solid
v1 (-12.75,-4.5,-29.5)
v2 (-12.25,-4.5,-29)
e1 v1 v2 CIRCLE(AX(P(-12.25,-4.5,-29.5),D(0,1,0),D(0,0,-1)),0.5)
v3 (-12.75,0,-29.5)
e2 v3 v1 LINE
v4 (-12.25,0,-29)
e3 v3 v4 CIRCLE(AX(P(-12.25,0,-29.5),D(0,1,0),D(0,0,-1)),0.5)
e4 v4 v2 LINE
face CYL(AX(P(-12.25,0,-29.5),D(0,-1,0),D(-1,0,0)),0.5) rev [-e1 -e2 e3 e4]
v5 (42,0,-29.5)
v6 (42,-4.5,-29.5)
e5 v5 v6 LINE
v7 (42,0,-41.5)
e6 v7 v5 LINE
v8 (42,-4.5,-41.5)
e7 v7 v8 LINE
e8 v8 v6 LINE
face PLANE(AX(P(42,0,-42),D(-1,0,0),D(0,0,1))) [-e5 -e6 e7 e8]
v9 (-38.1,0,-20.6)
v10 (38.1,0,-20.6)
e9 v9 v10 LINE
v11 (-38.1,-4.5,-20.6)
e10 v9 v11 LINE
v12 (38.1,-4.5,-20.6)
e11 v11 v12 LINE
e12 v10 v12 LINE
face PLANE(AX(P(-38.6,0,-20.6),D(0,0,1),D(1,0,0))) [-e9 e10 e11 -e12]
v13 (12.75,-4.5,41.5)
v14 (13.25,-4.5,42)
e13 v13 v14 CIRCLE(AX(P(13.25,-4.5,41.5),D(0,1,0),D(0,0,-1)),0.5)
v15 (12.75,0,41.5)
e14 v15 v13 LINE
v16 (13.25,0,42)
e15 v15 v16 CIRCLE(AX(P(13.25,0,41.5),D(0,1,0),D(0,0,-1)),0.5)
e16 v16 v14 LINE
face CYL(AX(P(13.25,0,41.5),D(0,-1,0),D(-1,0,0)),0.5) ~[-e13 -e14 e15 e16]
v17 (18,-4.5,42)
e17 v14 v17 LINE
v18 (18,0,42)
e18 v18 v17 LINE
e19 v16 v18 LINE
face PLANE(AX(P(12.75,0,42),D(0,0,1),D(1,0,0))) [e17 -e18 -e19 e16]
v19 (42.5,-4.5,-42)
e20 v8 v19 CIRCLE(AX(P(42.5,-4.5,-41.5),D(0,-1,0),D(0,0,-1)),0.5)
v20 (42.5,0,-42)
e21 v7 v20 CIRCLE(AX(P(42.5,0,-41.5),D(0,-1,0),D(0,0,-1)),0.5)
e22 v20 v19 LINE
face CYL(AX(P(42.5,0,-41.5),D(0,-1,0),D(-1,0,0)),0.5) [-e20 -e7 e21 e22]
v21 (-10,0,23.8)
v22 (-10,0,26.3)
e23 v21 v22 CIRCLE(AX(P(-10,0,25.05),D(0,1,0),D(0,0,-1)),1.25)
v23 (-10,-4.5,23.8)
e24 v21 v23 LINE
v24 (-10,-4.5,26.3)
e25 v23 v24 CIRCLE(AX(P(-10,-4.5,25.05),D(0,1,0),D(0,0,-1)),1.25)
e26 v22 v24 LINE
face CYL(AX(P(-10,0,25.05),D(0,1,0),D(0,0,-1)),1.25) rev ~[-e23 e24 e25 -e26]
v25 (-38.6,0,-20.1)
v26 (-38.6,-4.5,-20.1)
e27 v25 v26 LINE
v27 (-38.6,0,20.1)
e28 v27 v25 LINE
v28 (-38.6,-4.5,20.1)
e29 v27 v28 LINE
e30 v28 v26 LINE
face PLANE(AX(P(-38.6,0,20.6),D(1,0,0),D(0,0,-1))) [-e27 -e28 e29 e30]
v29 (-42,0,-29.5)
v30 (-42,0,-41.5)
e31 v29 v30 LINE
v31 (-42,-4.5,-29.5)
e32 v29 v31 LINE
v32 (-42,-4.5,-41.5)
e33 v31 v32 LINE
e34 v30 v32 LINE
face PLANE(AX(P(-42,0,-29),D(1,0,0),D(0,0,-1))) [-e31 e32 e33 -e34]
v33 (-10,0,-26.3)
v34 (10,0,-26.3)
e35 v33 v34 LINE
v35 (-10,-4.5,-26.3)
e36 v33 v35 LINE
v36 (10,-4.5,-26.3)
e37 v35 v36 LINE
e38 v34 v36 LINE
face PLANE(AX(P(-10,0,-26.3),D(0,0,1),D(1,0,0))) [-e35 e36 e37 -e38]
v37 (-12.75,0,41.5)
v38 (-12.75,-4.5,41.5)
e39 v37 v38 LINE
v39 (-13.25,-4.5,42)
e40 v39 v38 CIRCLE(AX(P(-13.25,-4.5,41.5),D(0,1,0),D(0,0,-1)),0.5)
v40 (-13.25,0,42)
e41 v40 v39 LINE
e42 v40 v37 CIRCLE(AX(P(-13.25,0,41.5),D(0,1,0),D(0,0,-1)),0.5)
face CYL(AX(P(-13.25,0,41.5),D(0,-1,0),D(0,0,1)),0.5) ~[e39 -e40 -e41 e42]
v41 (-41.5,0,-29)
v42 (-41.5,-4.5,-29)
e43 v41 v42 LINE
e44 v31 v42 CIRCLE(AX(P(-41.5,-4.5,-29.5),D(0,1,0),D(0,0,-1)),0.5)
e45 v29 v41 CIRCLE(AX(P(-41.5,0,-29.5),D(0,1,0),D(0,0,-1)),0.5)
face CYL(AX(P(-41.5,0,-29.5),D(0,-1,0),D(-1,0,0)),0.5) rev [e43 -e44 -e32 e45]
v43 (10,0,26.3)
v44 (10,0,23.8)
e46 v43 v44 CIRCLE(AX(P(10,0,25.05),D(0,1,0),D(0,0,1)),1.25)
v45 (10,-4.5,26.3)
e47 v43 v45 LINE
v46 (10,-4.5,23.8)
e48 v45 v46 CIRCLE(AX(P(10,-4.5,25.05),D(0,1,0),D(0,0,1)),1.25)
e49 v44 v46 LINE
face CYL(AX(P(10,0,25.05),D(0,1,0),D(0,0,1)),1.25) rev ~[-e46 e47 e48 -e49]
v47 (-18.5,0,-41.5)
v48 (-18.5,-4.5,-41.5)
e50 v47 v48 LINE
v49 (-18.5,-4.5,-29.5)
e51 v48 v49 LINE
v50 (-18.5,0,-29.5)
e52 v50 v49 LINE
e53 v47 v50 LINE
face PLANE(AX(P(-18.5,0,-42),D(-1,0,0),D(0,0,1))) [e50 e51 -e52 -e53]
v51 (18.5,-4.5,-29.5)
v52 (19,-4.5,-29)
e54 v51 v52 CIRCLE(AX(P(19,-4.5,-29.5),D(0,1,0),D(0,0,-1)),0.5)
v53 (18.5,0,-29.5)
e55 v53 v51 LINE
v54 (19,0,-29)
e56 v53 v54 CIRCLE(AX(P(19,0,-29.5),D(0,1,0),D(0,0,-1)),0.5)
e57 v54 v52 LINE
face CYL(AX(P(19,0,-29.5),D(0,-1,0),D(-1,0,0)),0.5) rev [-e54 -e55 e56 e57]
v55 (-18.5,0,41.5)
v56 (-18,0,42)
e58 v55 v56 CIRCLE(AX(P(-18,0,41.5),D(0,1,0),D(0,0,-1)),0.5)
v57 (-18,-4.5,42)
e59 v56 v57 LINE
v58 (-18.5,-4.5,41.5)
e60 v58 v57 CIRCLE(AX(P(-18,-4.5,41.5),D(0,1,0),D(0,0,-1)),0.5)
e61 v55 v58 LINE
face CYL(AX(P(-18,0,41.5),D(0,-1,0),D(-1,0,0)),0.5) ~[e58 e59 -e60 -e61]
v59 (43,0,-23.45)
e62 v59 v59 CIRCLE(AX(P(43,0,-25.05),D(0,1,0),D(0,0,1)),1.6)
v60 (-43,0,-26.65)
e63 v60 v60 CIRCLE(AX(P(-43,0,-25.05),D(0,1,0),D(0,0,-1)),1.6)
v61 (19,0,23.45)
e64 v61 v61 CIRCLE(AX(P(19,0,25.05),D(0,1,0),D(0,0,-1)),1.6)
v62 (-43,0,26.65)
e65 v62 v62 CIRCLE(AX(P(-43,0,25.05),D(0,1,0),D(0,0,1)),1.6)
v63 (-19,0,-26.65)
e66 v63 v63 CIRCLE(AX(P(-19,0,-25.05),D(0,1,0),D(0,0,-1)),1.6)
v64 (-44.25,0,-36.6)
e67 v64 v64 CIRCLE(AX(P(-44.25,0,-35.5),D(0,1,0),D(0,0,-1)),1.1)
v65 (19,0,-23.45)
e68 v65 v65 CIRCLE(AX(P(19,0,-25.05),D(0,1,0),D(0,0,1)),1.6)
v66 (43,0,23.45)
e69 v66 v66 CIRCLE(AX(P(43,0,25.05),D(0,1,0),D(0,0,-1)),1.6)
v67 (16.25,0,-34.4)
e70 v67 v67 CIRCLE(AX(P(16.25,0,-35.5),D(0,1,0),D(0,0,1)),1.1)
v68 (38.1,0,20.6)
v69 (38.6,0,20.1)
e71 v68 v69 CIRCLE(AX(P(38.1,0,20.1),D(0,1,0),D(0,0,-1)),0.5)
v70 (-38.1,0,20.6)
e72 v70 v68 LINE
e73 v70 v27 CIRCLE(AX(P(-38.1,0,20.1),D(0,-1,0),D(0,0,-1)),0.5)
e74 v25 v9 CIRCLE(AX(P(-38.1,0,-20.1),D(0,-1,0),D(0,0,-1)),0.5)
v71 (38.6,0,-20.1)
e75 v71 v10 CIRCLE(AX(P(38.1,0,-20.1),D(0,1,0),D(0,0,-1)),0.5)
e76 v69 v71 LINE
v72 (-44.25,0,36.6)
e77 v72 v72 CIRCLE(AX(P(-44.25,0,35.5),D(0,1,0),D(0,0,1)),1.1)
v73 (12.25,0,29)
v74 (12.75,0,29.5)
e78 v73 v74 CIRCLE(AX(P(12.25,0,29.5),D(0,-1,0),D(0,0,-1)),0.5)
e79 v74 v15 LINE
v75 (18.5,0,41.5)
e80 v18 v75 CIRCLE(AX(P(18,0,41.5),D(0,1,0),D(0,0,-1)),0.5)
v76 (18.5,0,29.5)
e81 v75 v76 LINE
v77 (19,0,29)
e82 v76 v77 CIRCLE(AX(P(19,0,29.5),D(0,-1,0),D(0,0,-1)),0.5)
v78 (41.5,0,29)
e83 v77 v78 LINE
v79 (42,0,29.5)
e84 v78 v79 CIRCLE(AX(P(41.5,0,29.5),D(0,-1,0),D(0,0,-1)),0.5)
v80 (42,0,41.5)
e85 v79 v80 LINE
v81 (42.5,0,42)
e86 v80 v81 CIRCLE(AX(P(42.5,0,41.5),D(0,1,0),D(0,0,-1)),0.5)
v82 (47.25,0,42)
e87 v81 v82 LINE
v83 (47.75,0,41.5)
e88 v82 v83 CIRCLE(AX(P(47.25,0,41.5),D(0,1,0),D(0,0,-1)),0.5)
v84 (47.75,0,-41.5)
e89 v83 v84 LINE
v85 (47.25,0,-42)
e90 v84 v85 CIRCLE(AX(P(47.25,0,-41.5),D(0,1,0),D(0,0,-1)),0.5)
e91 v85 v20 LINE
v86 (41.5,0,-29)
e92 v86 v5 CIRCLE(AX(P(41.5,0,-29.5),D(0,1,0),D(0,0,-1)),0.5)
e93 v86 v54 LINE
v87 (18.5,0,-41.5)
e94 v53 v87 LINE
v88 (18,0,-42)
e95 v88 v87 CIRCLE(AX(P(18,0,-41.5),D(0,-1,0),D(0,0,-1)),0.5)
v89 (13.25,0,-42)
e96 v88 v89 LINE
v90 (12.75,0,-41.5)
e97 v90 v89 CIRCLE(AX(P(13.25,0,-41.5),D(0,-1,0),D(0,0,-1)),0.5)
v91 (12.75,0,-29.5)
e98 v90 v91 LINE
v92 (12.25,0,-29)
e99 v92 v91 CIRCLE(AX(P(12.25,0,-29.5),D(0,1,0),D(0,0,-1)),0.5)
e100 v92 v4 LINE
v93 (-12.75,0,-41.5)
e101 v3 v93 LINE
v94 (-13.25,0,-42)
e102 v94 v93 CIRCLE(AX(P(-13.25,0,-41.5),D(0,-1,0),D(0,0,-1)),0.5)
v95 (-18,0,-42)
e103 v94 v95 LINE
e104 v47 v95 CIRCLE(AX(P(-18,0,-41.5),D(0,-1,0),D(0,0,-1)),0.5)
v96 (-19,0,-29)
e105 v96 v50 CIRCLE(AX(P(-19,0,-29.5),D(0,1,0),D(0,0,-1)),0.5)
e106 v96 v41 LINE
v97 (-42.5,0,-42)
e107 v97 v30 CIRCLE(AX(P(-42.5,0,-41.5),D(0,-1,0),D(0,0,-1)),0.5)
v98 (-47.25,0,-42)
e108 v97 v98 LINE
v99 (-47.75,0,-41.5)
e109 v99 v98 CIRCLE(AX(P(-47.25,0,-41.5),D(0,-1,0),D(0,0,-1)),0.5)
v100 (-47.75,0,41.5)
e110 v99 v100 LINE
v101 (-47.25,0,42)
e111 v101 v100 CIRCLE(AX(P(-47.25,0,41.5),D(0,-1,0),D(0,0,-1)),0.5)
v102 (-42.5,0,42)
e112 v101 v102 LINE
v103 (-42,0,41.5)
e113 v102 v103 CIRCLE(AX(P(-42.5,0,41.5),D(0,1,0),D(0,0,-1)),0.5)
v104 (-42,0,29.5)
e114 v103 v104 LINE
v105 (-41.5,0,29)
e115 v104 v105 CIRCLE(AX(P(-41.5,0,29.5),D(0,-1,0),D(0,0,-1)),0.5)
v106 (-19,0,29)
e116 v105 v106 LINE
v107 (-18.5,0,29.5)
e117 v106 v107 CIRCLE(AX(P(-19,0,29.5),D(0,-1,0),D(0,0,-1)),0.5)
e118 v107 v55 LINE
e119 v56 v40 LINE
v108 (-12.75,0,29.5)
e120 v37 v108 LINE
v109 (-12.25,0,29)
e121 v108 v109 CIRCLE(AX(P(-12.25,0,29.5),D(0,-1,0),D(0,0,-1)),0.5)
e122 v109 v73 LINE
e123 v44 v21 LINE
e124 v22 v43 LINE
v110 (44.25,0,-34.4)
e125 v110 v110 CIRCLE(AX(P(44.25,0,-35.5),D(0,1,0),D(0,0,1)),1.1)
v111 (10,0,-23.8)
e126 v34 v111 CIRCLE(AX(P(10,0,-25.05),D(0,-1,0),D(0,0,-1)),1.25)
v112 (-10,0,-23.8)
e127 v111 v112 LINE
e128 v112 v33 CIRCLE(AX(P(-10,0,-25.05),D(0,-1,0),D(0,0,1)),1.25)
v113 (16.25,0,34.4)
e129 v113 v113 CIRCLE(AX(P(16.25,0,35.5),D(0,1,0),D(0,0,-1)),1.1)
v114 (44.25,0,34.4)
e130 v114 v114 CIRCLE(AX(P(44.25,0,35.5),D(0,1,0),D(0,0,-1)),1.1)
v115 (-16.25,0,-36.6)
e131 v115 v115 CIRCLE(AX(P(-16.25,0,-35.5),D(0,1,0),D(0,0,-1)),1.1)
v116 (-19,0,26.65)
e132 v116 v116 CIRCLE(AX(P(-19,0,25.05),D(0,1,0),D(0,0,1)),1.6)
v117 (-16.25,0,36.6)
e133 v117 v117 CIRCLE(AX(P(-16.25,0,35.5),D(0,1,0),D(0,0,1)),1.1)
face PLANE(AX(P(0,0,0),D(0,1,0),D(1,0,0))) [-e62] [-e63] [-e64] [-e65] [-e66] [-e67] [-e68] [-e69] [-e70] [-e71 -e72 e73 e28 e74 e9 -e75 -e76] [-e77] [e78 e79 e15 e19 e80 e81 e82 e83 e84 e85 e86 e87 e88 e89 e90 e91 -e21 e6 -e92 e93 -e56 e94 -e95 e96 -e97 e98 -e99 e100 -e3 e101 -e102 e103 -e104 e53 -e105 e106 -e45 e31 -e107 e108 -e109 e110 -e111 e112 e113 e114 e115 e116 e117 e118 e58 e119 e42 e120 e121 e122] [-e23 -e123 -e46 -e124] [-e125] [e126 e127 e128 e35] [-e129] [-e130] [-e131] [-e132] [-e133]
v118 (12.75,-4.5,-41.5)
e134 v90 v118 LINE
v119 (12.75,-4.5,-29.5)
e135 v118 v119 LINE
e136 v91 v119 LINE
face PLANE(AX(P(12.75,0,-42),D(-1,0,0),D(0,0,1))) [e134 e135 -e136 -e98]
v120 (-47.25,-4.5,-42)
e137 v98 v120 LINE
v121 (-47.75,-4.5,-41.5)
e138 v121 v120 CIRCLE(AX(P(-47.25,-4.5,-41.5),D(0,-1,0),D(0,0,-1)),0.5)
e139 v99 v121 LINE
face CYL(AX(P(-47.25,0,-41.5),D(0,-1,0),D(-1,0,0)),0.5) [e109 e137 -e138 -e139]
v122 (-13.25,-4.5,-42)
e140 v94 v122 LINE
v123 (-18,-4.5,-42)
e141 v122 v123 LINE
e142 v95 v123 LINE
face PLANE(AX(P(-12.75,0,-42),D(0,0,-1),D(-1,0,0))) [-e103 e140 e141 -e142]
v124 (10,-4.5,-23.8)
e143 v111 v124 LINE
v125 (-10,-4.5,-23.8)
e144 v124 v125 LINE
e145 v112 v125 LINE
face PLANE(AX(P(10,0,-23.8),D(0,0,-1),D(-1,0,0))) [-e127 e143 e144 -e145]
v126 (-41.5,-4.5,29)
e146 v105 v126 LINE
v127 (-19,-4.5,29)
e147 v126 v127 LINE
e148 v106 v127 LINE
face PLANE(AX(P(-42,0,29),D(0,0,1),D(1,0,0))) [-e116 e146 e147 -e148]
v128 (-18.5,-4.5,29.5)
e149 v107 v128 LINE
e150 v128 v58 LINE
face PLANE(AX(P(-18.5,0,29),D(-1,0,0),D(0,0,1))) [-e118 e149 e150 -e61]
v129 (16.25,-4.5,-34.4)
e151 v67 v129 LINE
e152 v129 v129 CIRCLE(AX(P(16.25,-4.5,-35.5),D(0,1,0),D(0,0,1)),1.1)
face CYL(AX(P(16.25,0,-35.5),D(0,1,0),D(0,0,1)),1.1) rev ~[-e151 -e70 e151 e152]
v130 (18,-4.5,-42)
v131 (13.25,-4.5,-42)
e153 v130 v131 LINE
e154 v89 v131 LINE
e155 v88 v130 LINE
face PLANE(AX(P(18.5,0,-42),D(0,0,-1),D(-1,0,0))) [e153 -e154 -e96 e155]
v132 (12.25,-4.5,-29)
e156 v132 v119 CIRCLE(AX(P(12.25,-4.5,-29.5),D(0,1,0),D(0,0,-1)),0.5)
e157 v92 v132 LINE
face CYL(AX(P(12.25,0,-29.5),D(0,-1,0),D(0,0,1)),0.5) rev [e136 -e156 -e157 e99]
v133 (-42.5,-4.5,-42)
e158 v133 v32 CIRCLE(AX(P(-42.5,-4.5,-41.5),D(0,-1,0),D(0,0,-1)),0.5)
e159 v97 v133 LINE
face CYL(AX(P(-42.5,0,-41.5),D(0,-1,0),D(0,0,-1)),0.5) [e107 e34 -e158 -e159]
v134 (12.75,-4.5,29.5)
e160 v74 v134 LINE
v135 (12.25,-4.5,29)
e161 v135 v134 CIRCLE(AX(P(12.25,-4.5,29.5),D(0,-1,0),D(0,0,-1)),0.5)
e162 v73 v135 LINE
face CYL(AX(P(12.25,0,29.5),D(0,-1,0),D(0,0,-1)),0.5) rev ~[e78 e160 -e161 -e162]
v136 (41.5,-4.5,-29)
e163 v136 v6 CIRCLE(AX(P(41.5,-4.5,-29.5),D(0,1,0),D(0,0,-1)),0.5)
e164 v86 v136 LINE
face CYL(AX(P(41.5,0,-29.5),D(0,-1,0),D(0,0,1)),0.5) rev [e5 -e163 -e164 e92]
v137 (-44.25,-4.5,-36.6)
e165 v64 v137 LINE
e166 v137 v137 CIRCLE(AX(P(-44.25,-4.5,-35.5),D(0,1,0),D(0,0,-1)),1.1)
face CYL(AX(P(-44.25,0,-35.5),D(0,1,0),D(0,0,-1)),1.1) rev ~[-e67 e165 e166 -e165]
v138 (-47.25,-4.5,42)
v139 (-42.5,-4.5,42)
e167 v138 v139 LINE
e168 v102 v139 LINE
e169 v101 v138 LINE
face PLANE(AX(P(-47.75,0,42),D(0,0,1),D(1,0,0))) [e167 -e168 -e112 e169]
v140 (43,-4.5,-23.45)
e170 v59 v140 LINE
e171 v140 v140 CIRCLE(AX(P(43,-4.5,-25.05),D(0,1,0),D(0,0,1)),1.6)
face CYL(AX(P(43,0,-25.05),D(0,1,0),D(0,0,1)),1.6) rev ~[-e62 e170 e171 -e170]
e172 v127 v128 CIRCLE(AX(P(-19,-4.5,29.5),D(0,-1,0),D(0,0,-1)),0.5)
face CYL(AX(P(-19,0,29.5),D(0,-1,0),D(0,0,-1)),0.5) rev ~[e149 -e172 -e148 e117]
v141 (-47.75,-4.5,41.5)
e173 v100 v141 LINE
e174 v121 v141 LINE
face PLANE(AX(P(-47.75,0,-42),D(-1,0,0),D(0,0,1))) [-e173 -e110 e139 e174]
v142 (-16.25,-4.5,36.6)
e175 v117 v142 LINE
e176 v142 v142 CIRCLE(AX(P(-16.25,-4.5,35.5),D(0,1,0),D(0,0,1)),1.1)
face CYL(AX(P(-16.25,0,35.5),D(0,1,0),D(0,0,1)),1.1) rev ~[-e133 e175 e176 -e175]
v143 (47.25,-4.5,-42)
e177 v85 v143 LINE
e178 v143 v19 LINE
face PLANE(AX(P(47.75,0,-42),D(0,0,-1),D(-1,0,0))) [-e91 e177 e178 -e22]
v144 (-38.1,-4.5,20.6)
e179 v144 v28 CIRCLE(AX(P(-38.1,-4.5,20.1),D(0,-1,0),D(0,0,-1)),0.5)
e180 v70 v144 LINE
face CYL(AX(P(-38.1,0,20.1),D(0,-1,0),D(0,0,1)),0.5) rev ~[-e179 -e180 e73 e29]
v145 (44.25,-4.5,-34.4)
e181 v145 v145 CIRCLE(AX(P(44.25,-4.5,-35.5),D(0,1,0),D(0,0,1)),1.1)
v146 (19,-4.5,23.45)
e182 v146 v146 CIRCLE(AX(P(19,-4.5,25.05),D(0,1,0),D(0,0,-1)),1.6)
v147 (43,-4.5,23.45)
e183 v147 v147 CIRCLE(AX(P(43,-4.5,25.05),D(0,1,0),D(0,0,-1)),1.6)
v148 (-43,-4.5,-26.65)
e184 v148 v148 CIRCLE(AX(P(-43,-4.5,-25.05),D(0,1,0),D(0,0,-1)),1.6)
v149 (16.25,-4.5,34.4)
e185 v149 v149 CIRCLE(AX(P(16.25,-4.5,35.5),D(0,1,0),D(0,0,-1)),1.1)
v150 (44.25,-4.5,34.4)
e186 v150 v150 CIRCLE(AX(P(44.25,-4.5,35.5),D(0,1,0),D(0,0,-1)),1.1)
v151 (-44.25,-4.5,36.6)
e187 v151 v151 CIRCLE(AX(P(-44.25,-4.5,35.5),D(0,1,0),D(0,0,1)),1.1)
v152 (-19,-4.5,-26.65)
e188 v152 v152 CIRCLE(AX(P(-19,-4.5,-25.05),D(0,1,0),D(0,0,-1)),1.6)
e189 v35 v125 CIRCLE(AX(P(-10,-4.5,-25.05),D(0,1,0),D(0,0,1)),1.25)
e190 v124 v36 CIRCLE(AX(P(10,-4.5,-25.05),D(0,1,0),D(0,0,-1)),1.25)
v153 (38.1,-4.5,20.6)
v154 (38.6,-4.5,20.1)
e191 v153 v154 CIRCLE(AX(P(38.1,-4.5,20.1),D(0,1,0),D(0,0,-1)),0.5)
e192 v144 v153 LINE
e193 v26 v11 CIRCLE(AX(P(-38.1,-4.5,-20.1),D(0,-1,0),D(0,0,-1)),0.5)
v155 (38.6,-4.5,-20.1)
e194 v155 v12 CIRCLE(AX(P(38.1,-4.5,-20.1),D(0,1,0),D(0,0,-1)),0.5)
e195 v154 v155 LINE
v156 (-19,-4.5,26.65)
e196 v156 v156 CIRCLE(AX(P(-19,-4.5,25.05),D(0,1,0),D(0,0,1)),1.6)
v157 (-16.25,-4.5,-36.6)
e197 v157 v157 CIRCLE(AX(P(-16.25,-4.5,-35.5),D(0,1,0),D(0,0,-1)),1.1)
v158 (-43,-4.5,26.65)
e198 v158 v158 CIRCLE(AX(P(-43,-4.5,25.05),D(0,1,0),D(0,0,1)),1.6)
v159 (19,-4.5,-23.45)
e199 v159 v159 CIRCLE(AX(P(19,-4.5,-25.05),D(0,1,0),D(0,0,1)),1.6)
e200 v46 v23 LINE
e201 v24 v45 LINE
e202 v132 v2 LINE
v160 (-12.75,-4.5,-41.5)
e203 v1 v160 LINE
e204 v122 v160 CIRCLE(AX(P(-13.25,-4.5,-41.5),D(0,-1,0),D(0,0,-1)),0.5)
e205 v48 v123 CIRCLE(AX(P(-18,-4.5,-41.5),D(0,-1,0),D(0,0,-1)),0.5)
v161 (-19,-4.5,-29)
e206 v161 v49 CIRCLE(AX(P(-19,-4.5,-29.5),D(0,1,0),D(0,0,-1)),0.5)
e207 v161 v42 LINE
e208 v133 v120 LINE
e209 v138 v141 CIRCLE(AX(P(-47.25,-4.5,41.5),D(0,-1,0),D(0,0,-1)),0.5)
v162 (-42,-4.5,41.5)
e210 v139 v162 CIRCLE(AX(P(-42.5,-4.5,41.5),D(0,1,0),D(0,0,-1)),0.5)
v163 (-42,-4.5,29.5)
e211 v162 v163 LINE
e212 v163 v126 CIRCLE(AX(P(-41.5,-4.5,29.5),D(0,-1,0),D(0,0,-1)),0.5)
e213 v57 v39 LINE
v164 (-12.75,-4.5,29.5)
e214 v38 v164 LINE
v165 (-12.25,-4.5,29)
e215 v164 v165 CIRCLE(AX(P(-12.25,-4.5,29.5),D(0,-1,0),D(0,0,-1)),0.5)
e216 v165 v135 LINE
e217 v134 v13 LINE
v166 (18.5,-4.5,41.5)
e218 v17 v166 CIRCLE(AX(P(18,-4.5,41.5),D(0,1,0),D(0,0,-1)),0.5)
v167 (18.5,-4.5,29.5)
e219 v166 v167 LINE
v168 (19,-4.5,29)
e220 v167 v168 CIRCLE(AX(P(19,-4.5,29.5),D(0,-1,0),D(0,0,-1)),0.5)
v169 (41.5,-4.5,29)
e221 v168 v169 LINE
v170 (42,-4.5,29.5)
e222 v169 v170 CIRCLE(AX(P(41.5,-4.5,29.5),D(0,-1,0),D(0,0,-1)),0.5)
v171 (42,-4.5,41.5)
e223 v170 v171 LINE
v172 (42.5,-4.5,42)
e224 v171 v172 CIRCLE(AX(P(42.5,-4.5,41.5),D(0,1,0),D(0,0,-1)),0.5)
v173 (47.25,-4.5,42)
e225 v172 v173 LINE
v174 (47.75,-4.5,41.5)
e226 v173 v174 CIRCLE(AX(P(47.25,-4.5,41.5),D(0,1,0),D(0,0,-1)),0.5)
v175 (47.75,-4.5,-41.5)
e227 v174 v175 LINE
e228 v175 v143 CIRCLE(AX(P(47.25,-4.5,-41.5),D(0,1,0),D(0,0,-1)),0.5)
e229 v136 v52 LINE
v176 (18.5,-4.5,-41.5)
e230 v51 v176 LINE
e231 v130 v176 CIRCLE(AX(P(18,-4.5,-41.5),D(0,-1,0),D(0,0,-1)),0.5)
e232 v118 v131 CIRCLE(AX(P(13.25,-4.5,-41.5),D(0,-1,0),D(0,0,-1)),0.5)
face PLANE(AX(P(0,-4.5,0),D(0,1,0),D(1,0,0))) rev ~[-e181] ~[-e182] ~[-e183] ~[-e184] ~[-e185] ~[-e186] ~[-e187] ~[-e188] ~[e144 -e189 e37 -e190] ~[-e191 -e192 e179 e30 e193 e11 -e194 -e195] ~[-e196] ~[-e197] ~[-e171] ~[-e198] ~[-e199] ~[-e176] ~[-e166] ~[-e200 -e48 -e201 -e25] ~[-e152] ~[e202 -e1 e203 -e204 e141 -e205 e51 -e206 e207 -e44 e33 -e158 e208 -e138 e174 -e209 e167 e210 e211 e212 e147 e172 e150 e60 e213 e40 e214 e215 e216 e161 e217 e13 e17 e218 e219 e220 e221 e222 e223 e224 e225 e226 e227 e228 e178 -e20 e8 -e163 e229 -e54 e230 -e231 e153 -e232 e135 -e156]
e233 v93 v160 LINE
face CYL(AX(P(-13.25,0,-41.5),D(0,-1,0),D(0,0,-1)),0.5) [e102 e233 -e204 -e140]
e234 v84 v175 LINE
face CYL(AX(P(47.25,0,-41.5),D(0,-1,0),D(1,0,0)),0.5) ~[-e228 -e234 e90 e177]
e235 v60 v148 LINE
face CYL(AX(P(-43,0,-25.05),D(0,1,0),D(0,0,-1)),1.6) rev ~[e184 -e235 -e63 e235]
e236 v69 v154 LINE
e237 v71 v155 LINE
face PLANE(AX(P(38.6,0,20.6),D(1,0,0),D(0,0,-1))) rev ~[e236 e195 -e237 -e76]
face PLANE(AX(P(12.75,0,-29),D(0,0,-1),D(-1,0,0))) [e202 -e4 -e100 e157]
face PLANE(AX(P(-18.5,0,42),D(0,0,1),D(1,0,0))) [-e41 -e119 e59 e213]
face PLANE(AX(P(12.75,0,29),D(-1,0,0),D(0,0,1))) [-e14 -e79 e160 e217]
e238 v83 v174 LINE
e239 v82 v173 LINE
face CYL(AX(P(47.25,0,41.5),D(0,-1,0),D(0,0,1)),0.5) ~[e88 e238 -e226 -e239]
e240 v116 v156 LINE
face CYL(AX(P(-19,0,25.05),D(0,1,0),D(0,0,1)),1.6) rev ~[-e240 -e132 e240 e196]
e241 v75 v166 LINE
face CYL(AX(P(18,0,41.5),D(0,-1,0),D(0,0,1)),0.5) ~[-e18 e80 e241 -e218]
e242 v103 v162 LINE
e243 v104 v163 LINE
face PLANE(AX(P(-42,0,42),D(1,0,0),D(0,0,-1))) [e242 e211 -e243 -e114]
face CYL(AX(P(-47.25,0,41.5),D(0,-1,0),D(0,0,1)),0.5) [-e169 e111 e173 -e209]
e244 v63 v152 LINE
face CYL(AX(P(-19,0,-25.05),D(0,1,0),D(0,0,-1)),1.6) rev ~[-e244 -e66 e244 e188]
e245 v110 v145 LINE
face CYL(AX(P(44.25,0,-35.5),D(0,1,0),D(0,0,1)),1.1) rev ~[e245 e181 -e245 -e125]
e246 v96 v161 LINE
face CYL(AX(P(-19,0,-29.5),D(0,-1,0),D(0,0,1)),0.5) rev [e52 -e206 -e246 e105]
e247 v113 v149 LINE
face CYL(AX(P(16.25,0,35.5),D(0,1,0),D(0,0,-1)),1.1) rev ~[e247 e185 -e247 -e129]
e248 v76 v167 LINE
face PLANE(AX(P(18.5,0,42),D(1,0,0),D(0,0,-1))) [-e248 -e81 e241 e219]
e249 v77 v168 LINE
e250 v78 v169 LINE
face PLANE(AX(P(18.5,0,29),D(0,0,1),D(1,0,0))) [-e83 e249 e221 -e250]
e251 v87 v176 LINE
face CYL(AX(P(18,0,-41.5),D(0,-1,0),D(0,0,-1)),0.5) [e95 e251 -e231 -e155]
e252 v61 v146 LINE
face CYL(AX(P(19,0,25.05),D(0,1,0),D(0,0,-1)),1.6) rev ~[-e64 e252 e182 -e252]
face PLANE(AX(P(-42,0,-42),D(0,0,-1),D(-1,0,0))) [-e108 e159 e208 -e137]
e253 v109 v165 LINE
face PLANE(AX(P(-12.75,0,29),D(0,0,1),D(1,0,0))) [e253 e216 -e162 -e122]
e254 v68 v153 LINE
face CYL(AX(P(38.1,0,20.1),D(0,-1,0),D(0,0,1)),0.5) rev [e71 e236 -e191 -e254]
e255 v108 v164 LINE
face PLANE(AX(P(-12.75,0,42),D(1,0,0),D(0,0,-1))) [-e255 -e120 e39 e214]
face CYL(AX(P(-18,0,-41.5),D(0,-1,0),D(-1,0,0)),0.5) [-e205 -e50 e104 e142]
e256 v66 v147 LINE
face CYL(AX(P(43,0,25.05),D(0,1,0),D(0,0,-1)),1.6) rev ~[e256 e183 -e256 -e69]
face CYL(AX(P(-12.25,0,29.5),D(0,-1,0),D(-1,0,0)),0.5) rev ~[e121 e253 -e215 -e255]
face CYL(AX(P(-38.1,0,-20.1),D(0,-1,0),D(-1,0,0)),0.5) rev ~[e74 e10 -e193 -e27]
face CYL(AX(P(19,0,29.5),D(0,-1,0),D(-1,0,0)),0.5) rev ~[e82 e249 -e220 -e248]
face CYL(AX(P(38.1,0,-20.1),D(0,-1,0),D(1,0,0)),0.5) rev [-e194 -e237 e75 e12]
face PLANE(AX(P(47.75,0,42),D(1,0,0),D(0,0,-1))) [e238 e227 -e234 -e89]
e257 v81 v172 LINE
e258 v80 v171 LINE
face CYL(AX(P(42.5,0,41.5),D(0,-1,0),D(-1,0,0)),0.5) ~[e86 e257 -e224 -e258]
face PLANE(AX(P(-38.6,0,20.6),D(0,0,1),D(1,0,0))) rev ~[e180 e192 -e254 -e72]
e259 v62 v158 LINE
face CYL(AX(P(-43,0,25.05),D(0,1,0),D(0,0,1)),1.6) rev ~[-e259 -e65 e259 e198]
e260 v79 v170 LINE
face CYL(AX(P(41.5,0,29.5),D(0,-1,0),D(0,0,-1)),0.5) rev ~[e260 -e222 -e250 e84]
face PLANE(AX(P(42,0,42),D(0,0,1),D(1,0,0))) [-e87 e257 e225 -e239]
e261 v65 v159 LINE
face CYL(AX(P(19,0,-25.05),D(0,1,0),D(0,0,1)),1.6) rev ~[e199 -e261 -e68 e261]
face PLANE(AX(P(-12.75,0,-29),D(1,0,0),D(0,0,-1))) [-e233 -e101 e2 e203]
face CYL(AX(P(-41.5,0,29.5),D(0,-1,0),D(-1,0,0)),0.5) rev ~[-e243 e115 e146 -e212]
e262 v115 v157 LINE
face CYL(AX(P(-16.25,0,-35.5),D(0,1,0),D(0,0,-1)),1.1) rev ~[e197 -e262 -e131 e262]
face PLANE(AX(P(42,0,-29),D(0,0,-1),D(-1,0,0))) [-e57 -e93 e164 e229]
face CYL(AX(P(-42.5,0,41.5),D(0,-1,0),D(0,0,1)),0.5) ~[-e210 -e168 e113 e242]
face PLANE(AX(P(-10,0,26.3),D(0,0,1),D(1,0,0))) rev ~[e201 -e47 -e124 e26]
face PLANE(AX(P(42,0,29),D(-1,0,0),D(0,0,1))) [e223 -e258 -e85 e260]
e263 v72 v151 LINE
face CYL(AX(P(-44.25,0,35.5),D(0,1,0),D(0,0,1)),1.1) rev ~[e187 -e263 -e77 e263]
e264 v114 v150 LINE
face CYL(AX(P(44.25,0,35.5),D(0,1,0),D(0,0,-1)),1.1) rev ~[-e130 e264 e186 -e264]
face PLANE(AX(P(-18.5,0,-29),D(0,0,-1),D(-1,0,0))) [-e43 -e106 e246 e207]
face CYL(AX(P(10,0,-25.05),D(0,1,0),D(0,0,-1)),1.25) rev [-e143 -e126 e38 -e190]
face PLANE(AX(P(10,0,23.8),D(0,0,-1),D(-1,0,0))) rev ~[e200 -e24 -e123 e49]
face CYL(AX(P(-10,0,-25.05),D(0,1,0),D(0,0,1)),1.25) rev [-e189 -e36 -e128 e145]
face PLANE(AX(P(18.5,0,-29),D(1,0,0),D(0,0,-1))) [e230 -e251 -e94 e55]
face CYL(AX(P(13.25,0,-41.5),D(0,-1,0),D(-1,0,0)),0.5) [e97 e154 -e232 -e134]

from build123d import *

# Parameters (mm, degrees)
EXTRUDE_1_DEPTH     = 4.5
SKETCH_10_W         = 77.2
SKETCH_10_H         = 41.2
CUT_EXTRUDE_5_DEPTH = 64.751960754
SKETCH_16_R         = 1.6
CUT_EXTRUDE_6_DEPTH = 10
SKETCH_17_R         = 1.1
CUT_EXTRUDE_7_DEPTH = 10
FILLET_1_R          = 0.5


with BuildPart() as part:
    # 草图1 → 凸台-拉伸1 (new body)
    with BuildSketch(Plane(origin=(0, 0, 0), x_dir=(1, 0, 0), z_dir=(0, 1, 0))):
        Polygon((-47.75, -29), (-47.75, -42), (-42, -42), (-42, -29), (-18.5, -29), (-18.5, -42), (-12.75, -42), (-12.75, -29), (12.75, -29), (12.75, -42), (18.5, -42), (18.5, -29), (42, -29), (42, -42), (47.75, -42), (47.75, -29), (47.75, 29), (47.75, 42), (42, 42), (42, 29), (18.5, 29), (18.5, 42), (12.75, 42), (12.75, 29), (-12.75, 29), (-12.75, 42), (-18.5, 42), (-18.5, 29), (-42, 29), (-42, 42), (-47.75, 42), (-47.75, 29), align=None)
    extrude(amount=-EXTRUDE_1_DEPTH)

    # 草图10 → 切除-拉伸5 (cut, through all)
    with BuildSketch(Plane(origin=(0, 0, 0), x_dir=(1, 0, 0), z_dir=(0, 1, 0))):
        Rectangle(SKETCH_10_W, SKETCH_10_H)
    extrude(amount=-CUT_EXTRUDE_5_DEPTH, mode=Mode.SUBTRACT)

    # 草图16 → 切除-拉伸6 (cut)
    with BuildSketch(Plane(origin=(0, 0, 0), x_dir=(1, 0, 0), z_dir=(0, 1, 0))):
        with Locations(Location((19, 25.05, 0), (0, 0, 270))):
            Circle(SKETCH_16_R)
        with Locations(Location((43, 25.05, 0), (0, 0, 270))):
            Circle(SKETCH_16_R)
        with Locations(Location((-43, 25.05, 0), (0, 0, 90))):
            Circle(SKETCH_16_R)
        with Locations(Location((-19, 25.05, 0), (0, 0, 90))):
            Circle(SKETCH_16_R)
        with Locations(Location((43, -25.05, 0), (0, 0, 90))):
            Circle(SKETCH_16_R)
        with Locations(Location((19, -25.05, 0), (0, 0, 90))):
            Circle(SKETCH_16_R)
        with Locations(Location((-19, -25.05, 0), (0, 0, 270))):
            Circle(SKETCH_16_R)
        with Locations(Location((-43, -25.05, 0), (0, 0, 270))):
            Circle(SKETCH_16_R)
        with BuildLine():
            Line((-10, 26.3), (10, 26.3))
            ThreePointArc((10, 26.3), (11.25, 25.05), (10, 23.8))
            Line((10, 23.8), (-10, 23.8))
            ThreePointArc((-10, 23.8), (-11.25, 25.05), (-10, 26.3))
        make_face()
        with BuildLine():
            Line((-10, -26.3), (10, -26.3))
            ThreePointArc((10, -26.3), (11.25, -25.05), (10, -23.8))
            Line((10, -23.8), (-10, -23.8))
            ThreePointArc((-10, -23.8), (-11.25, -25.05), (-10, -26.3))
        make_face()
    extrude(amount=-CUT_EXTRUDE_6_DEPTH, mode=Mode.SUBTRACT)

    # 草图17 → 切除-拉伸7 (cut)
    with BuildSketch(Plane(origin=(0, 0, 0), x_dir=(1, 0, 0), z_dir=(0, 1, 0))):
        with Locations(Location((-44.25, -35.5, 0), (0, 0, 270))):
            Circle(SKETCH_17_R)
        with Locations(Location((-16.25, -35.5, 0), (0, 0, 270))):
            Circle(SKETCH_17_R)
        with Locations(Location((16.25, -35.5, 0), (0, 0, 90))):
            Circle(SKETCH_17_R)
        with Locations(Location((44.25, -35.5, 0), (0, 0, 90))):
            Circle(SKETCH_17_R)
        with Locations(Location((44.25, 35.5, 0), (0, 0, 270))):
            Circle(SKETCH_17_R)
        with Locations(Location((-16.25, 35.5, 0), (0, 0, 90))):
            Circle(SKETCH_17_R)
        with Locations(Location((-44.25, 35.5, 0), (0, 0, 90))):
            Circle(SKETCH_17_R)
        with Locations(Location((16.25, 35.5, 0), (0, 0, 270))):
            Circle(SKETCH_17_R)
    extrude(amount=-CUT_EXTRUDE_7_DEPTH, mode=Mode.SUBTRACT)

    # 圆角1
    fillet_1_edges = [part.edges().sort_by_distance(p)[0] for p in [
        (47.75, -2.25, 42),
        (42, -2.25, 42),
        (42, -2.25, 29),
        (18.5, -2.25, 29),
        (18.5, -2.25, 42),
        (12.75, -2.25, 42),
        (12.75, -2.25, 29),
        (-12.75, -2.25, 29),
        (-12.75, -2.25, 42),
        (-18.5, -2.25, 42),
        (-18.5, -2.25, 29),
        (-42, -2.25, 29),
        (-42, -2.25, 42),
        (-47.75, -2.25, 42),
        (-47.75, -2.25, -42),
        (-42, -2.25, -42),
        (-42, -2.25, -29),
        (-18.5, -2.25, -29),
        (-18.5, -2.25, -42),
        (-12.75, -2.25, -42),
        (-12.75, -2.25, -29),
        (12.75, -2.25, -29),
        (12.75, -2.25, -42),
        (18.5, -2.25, -42),
        (18.5, -2.25, -29),
        (42, -2.25, -29),
        (42, -2.25, -42),
        (47.75, -2.25, -42),
        (-38.6, -2.25, 20.6),
        (-38.6, -2.25, -20.6),
        (38.6, -2.25, -20.6),
        (38.6, -2.25, 20.6),
    ]]
    fillet(fillet_1_edges, radius=FILLET_1_R)


solid = part.part
